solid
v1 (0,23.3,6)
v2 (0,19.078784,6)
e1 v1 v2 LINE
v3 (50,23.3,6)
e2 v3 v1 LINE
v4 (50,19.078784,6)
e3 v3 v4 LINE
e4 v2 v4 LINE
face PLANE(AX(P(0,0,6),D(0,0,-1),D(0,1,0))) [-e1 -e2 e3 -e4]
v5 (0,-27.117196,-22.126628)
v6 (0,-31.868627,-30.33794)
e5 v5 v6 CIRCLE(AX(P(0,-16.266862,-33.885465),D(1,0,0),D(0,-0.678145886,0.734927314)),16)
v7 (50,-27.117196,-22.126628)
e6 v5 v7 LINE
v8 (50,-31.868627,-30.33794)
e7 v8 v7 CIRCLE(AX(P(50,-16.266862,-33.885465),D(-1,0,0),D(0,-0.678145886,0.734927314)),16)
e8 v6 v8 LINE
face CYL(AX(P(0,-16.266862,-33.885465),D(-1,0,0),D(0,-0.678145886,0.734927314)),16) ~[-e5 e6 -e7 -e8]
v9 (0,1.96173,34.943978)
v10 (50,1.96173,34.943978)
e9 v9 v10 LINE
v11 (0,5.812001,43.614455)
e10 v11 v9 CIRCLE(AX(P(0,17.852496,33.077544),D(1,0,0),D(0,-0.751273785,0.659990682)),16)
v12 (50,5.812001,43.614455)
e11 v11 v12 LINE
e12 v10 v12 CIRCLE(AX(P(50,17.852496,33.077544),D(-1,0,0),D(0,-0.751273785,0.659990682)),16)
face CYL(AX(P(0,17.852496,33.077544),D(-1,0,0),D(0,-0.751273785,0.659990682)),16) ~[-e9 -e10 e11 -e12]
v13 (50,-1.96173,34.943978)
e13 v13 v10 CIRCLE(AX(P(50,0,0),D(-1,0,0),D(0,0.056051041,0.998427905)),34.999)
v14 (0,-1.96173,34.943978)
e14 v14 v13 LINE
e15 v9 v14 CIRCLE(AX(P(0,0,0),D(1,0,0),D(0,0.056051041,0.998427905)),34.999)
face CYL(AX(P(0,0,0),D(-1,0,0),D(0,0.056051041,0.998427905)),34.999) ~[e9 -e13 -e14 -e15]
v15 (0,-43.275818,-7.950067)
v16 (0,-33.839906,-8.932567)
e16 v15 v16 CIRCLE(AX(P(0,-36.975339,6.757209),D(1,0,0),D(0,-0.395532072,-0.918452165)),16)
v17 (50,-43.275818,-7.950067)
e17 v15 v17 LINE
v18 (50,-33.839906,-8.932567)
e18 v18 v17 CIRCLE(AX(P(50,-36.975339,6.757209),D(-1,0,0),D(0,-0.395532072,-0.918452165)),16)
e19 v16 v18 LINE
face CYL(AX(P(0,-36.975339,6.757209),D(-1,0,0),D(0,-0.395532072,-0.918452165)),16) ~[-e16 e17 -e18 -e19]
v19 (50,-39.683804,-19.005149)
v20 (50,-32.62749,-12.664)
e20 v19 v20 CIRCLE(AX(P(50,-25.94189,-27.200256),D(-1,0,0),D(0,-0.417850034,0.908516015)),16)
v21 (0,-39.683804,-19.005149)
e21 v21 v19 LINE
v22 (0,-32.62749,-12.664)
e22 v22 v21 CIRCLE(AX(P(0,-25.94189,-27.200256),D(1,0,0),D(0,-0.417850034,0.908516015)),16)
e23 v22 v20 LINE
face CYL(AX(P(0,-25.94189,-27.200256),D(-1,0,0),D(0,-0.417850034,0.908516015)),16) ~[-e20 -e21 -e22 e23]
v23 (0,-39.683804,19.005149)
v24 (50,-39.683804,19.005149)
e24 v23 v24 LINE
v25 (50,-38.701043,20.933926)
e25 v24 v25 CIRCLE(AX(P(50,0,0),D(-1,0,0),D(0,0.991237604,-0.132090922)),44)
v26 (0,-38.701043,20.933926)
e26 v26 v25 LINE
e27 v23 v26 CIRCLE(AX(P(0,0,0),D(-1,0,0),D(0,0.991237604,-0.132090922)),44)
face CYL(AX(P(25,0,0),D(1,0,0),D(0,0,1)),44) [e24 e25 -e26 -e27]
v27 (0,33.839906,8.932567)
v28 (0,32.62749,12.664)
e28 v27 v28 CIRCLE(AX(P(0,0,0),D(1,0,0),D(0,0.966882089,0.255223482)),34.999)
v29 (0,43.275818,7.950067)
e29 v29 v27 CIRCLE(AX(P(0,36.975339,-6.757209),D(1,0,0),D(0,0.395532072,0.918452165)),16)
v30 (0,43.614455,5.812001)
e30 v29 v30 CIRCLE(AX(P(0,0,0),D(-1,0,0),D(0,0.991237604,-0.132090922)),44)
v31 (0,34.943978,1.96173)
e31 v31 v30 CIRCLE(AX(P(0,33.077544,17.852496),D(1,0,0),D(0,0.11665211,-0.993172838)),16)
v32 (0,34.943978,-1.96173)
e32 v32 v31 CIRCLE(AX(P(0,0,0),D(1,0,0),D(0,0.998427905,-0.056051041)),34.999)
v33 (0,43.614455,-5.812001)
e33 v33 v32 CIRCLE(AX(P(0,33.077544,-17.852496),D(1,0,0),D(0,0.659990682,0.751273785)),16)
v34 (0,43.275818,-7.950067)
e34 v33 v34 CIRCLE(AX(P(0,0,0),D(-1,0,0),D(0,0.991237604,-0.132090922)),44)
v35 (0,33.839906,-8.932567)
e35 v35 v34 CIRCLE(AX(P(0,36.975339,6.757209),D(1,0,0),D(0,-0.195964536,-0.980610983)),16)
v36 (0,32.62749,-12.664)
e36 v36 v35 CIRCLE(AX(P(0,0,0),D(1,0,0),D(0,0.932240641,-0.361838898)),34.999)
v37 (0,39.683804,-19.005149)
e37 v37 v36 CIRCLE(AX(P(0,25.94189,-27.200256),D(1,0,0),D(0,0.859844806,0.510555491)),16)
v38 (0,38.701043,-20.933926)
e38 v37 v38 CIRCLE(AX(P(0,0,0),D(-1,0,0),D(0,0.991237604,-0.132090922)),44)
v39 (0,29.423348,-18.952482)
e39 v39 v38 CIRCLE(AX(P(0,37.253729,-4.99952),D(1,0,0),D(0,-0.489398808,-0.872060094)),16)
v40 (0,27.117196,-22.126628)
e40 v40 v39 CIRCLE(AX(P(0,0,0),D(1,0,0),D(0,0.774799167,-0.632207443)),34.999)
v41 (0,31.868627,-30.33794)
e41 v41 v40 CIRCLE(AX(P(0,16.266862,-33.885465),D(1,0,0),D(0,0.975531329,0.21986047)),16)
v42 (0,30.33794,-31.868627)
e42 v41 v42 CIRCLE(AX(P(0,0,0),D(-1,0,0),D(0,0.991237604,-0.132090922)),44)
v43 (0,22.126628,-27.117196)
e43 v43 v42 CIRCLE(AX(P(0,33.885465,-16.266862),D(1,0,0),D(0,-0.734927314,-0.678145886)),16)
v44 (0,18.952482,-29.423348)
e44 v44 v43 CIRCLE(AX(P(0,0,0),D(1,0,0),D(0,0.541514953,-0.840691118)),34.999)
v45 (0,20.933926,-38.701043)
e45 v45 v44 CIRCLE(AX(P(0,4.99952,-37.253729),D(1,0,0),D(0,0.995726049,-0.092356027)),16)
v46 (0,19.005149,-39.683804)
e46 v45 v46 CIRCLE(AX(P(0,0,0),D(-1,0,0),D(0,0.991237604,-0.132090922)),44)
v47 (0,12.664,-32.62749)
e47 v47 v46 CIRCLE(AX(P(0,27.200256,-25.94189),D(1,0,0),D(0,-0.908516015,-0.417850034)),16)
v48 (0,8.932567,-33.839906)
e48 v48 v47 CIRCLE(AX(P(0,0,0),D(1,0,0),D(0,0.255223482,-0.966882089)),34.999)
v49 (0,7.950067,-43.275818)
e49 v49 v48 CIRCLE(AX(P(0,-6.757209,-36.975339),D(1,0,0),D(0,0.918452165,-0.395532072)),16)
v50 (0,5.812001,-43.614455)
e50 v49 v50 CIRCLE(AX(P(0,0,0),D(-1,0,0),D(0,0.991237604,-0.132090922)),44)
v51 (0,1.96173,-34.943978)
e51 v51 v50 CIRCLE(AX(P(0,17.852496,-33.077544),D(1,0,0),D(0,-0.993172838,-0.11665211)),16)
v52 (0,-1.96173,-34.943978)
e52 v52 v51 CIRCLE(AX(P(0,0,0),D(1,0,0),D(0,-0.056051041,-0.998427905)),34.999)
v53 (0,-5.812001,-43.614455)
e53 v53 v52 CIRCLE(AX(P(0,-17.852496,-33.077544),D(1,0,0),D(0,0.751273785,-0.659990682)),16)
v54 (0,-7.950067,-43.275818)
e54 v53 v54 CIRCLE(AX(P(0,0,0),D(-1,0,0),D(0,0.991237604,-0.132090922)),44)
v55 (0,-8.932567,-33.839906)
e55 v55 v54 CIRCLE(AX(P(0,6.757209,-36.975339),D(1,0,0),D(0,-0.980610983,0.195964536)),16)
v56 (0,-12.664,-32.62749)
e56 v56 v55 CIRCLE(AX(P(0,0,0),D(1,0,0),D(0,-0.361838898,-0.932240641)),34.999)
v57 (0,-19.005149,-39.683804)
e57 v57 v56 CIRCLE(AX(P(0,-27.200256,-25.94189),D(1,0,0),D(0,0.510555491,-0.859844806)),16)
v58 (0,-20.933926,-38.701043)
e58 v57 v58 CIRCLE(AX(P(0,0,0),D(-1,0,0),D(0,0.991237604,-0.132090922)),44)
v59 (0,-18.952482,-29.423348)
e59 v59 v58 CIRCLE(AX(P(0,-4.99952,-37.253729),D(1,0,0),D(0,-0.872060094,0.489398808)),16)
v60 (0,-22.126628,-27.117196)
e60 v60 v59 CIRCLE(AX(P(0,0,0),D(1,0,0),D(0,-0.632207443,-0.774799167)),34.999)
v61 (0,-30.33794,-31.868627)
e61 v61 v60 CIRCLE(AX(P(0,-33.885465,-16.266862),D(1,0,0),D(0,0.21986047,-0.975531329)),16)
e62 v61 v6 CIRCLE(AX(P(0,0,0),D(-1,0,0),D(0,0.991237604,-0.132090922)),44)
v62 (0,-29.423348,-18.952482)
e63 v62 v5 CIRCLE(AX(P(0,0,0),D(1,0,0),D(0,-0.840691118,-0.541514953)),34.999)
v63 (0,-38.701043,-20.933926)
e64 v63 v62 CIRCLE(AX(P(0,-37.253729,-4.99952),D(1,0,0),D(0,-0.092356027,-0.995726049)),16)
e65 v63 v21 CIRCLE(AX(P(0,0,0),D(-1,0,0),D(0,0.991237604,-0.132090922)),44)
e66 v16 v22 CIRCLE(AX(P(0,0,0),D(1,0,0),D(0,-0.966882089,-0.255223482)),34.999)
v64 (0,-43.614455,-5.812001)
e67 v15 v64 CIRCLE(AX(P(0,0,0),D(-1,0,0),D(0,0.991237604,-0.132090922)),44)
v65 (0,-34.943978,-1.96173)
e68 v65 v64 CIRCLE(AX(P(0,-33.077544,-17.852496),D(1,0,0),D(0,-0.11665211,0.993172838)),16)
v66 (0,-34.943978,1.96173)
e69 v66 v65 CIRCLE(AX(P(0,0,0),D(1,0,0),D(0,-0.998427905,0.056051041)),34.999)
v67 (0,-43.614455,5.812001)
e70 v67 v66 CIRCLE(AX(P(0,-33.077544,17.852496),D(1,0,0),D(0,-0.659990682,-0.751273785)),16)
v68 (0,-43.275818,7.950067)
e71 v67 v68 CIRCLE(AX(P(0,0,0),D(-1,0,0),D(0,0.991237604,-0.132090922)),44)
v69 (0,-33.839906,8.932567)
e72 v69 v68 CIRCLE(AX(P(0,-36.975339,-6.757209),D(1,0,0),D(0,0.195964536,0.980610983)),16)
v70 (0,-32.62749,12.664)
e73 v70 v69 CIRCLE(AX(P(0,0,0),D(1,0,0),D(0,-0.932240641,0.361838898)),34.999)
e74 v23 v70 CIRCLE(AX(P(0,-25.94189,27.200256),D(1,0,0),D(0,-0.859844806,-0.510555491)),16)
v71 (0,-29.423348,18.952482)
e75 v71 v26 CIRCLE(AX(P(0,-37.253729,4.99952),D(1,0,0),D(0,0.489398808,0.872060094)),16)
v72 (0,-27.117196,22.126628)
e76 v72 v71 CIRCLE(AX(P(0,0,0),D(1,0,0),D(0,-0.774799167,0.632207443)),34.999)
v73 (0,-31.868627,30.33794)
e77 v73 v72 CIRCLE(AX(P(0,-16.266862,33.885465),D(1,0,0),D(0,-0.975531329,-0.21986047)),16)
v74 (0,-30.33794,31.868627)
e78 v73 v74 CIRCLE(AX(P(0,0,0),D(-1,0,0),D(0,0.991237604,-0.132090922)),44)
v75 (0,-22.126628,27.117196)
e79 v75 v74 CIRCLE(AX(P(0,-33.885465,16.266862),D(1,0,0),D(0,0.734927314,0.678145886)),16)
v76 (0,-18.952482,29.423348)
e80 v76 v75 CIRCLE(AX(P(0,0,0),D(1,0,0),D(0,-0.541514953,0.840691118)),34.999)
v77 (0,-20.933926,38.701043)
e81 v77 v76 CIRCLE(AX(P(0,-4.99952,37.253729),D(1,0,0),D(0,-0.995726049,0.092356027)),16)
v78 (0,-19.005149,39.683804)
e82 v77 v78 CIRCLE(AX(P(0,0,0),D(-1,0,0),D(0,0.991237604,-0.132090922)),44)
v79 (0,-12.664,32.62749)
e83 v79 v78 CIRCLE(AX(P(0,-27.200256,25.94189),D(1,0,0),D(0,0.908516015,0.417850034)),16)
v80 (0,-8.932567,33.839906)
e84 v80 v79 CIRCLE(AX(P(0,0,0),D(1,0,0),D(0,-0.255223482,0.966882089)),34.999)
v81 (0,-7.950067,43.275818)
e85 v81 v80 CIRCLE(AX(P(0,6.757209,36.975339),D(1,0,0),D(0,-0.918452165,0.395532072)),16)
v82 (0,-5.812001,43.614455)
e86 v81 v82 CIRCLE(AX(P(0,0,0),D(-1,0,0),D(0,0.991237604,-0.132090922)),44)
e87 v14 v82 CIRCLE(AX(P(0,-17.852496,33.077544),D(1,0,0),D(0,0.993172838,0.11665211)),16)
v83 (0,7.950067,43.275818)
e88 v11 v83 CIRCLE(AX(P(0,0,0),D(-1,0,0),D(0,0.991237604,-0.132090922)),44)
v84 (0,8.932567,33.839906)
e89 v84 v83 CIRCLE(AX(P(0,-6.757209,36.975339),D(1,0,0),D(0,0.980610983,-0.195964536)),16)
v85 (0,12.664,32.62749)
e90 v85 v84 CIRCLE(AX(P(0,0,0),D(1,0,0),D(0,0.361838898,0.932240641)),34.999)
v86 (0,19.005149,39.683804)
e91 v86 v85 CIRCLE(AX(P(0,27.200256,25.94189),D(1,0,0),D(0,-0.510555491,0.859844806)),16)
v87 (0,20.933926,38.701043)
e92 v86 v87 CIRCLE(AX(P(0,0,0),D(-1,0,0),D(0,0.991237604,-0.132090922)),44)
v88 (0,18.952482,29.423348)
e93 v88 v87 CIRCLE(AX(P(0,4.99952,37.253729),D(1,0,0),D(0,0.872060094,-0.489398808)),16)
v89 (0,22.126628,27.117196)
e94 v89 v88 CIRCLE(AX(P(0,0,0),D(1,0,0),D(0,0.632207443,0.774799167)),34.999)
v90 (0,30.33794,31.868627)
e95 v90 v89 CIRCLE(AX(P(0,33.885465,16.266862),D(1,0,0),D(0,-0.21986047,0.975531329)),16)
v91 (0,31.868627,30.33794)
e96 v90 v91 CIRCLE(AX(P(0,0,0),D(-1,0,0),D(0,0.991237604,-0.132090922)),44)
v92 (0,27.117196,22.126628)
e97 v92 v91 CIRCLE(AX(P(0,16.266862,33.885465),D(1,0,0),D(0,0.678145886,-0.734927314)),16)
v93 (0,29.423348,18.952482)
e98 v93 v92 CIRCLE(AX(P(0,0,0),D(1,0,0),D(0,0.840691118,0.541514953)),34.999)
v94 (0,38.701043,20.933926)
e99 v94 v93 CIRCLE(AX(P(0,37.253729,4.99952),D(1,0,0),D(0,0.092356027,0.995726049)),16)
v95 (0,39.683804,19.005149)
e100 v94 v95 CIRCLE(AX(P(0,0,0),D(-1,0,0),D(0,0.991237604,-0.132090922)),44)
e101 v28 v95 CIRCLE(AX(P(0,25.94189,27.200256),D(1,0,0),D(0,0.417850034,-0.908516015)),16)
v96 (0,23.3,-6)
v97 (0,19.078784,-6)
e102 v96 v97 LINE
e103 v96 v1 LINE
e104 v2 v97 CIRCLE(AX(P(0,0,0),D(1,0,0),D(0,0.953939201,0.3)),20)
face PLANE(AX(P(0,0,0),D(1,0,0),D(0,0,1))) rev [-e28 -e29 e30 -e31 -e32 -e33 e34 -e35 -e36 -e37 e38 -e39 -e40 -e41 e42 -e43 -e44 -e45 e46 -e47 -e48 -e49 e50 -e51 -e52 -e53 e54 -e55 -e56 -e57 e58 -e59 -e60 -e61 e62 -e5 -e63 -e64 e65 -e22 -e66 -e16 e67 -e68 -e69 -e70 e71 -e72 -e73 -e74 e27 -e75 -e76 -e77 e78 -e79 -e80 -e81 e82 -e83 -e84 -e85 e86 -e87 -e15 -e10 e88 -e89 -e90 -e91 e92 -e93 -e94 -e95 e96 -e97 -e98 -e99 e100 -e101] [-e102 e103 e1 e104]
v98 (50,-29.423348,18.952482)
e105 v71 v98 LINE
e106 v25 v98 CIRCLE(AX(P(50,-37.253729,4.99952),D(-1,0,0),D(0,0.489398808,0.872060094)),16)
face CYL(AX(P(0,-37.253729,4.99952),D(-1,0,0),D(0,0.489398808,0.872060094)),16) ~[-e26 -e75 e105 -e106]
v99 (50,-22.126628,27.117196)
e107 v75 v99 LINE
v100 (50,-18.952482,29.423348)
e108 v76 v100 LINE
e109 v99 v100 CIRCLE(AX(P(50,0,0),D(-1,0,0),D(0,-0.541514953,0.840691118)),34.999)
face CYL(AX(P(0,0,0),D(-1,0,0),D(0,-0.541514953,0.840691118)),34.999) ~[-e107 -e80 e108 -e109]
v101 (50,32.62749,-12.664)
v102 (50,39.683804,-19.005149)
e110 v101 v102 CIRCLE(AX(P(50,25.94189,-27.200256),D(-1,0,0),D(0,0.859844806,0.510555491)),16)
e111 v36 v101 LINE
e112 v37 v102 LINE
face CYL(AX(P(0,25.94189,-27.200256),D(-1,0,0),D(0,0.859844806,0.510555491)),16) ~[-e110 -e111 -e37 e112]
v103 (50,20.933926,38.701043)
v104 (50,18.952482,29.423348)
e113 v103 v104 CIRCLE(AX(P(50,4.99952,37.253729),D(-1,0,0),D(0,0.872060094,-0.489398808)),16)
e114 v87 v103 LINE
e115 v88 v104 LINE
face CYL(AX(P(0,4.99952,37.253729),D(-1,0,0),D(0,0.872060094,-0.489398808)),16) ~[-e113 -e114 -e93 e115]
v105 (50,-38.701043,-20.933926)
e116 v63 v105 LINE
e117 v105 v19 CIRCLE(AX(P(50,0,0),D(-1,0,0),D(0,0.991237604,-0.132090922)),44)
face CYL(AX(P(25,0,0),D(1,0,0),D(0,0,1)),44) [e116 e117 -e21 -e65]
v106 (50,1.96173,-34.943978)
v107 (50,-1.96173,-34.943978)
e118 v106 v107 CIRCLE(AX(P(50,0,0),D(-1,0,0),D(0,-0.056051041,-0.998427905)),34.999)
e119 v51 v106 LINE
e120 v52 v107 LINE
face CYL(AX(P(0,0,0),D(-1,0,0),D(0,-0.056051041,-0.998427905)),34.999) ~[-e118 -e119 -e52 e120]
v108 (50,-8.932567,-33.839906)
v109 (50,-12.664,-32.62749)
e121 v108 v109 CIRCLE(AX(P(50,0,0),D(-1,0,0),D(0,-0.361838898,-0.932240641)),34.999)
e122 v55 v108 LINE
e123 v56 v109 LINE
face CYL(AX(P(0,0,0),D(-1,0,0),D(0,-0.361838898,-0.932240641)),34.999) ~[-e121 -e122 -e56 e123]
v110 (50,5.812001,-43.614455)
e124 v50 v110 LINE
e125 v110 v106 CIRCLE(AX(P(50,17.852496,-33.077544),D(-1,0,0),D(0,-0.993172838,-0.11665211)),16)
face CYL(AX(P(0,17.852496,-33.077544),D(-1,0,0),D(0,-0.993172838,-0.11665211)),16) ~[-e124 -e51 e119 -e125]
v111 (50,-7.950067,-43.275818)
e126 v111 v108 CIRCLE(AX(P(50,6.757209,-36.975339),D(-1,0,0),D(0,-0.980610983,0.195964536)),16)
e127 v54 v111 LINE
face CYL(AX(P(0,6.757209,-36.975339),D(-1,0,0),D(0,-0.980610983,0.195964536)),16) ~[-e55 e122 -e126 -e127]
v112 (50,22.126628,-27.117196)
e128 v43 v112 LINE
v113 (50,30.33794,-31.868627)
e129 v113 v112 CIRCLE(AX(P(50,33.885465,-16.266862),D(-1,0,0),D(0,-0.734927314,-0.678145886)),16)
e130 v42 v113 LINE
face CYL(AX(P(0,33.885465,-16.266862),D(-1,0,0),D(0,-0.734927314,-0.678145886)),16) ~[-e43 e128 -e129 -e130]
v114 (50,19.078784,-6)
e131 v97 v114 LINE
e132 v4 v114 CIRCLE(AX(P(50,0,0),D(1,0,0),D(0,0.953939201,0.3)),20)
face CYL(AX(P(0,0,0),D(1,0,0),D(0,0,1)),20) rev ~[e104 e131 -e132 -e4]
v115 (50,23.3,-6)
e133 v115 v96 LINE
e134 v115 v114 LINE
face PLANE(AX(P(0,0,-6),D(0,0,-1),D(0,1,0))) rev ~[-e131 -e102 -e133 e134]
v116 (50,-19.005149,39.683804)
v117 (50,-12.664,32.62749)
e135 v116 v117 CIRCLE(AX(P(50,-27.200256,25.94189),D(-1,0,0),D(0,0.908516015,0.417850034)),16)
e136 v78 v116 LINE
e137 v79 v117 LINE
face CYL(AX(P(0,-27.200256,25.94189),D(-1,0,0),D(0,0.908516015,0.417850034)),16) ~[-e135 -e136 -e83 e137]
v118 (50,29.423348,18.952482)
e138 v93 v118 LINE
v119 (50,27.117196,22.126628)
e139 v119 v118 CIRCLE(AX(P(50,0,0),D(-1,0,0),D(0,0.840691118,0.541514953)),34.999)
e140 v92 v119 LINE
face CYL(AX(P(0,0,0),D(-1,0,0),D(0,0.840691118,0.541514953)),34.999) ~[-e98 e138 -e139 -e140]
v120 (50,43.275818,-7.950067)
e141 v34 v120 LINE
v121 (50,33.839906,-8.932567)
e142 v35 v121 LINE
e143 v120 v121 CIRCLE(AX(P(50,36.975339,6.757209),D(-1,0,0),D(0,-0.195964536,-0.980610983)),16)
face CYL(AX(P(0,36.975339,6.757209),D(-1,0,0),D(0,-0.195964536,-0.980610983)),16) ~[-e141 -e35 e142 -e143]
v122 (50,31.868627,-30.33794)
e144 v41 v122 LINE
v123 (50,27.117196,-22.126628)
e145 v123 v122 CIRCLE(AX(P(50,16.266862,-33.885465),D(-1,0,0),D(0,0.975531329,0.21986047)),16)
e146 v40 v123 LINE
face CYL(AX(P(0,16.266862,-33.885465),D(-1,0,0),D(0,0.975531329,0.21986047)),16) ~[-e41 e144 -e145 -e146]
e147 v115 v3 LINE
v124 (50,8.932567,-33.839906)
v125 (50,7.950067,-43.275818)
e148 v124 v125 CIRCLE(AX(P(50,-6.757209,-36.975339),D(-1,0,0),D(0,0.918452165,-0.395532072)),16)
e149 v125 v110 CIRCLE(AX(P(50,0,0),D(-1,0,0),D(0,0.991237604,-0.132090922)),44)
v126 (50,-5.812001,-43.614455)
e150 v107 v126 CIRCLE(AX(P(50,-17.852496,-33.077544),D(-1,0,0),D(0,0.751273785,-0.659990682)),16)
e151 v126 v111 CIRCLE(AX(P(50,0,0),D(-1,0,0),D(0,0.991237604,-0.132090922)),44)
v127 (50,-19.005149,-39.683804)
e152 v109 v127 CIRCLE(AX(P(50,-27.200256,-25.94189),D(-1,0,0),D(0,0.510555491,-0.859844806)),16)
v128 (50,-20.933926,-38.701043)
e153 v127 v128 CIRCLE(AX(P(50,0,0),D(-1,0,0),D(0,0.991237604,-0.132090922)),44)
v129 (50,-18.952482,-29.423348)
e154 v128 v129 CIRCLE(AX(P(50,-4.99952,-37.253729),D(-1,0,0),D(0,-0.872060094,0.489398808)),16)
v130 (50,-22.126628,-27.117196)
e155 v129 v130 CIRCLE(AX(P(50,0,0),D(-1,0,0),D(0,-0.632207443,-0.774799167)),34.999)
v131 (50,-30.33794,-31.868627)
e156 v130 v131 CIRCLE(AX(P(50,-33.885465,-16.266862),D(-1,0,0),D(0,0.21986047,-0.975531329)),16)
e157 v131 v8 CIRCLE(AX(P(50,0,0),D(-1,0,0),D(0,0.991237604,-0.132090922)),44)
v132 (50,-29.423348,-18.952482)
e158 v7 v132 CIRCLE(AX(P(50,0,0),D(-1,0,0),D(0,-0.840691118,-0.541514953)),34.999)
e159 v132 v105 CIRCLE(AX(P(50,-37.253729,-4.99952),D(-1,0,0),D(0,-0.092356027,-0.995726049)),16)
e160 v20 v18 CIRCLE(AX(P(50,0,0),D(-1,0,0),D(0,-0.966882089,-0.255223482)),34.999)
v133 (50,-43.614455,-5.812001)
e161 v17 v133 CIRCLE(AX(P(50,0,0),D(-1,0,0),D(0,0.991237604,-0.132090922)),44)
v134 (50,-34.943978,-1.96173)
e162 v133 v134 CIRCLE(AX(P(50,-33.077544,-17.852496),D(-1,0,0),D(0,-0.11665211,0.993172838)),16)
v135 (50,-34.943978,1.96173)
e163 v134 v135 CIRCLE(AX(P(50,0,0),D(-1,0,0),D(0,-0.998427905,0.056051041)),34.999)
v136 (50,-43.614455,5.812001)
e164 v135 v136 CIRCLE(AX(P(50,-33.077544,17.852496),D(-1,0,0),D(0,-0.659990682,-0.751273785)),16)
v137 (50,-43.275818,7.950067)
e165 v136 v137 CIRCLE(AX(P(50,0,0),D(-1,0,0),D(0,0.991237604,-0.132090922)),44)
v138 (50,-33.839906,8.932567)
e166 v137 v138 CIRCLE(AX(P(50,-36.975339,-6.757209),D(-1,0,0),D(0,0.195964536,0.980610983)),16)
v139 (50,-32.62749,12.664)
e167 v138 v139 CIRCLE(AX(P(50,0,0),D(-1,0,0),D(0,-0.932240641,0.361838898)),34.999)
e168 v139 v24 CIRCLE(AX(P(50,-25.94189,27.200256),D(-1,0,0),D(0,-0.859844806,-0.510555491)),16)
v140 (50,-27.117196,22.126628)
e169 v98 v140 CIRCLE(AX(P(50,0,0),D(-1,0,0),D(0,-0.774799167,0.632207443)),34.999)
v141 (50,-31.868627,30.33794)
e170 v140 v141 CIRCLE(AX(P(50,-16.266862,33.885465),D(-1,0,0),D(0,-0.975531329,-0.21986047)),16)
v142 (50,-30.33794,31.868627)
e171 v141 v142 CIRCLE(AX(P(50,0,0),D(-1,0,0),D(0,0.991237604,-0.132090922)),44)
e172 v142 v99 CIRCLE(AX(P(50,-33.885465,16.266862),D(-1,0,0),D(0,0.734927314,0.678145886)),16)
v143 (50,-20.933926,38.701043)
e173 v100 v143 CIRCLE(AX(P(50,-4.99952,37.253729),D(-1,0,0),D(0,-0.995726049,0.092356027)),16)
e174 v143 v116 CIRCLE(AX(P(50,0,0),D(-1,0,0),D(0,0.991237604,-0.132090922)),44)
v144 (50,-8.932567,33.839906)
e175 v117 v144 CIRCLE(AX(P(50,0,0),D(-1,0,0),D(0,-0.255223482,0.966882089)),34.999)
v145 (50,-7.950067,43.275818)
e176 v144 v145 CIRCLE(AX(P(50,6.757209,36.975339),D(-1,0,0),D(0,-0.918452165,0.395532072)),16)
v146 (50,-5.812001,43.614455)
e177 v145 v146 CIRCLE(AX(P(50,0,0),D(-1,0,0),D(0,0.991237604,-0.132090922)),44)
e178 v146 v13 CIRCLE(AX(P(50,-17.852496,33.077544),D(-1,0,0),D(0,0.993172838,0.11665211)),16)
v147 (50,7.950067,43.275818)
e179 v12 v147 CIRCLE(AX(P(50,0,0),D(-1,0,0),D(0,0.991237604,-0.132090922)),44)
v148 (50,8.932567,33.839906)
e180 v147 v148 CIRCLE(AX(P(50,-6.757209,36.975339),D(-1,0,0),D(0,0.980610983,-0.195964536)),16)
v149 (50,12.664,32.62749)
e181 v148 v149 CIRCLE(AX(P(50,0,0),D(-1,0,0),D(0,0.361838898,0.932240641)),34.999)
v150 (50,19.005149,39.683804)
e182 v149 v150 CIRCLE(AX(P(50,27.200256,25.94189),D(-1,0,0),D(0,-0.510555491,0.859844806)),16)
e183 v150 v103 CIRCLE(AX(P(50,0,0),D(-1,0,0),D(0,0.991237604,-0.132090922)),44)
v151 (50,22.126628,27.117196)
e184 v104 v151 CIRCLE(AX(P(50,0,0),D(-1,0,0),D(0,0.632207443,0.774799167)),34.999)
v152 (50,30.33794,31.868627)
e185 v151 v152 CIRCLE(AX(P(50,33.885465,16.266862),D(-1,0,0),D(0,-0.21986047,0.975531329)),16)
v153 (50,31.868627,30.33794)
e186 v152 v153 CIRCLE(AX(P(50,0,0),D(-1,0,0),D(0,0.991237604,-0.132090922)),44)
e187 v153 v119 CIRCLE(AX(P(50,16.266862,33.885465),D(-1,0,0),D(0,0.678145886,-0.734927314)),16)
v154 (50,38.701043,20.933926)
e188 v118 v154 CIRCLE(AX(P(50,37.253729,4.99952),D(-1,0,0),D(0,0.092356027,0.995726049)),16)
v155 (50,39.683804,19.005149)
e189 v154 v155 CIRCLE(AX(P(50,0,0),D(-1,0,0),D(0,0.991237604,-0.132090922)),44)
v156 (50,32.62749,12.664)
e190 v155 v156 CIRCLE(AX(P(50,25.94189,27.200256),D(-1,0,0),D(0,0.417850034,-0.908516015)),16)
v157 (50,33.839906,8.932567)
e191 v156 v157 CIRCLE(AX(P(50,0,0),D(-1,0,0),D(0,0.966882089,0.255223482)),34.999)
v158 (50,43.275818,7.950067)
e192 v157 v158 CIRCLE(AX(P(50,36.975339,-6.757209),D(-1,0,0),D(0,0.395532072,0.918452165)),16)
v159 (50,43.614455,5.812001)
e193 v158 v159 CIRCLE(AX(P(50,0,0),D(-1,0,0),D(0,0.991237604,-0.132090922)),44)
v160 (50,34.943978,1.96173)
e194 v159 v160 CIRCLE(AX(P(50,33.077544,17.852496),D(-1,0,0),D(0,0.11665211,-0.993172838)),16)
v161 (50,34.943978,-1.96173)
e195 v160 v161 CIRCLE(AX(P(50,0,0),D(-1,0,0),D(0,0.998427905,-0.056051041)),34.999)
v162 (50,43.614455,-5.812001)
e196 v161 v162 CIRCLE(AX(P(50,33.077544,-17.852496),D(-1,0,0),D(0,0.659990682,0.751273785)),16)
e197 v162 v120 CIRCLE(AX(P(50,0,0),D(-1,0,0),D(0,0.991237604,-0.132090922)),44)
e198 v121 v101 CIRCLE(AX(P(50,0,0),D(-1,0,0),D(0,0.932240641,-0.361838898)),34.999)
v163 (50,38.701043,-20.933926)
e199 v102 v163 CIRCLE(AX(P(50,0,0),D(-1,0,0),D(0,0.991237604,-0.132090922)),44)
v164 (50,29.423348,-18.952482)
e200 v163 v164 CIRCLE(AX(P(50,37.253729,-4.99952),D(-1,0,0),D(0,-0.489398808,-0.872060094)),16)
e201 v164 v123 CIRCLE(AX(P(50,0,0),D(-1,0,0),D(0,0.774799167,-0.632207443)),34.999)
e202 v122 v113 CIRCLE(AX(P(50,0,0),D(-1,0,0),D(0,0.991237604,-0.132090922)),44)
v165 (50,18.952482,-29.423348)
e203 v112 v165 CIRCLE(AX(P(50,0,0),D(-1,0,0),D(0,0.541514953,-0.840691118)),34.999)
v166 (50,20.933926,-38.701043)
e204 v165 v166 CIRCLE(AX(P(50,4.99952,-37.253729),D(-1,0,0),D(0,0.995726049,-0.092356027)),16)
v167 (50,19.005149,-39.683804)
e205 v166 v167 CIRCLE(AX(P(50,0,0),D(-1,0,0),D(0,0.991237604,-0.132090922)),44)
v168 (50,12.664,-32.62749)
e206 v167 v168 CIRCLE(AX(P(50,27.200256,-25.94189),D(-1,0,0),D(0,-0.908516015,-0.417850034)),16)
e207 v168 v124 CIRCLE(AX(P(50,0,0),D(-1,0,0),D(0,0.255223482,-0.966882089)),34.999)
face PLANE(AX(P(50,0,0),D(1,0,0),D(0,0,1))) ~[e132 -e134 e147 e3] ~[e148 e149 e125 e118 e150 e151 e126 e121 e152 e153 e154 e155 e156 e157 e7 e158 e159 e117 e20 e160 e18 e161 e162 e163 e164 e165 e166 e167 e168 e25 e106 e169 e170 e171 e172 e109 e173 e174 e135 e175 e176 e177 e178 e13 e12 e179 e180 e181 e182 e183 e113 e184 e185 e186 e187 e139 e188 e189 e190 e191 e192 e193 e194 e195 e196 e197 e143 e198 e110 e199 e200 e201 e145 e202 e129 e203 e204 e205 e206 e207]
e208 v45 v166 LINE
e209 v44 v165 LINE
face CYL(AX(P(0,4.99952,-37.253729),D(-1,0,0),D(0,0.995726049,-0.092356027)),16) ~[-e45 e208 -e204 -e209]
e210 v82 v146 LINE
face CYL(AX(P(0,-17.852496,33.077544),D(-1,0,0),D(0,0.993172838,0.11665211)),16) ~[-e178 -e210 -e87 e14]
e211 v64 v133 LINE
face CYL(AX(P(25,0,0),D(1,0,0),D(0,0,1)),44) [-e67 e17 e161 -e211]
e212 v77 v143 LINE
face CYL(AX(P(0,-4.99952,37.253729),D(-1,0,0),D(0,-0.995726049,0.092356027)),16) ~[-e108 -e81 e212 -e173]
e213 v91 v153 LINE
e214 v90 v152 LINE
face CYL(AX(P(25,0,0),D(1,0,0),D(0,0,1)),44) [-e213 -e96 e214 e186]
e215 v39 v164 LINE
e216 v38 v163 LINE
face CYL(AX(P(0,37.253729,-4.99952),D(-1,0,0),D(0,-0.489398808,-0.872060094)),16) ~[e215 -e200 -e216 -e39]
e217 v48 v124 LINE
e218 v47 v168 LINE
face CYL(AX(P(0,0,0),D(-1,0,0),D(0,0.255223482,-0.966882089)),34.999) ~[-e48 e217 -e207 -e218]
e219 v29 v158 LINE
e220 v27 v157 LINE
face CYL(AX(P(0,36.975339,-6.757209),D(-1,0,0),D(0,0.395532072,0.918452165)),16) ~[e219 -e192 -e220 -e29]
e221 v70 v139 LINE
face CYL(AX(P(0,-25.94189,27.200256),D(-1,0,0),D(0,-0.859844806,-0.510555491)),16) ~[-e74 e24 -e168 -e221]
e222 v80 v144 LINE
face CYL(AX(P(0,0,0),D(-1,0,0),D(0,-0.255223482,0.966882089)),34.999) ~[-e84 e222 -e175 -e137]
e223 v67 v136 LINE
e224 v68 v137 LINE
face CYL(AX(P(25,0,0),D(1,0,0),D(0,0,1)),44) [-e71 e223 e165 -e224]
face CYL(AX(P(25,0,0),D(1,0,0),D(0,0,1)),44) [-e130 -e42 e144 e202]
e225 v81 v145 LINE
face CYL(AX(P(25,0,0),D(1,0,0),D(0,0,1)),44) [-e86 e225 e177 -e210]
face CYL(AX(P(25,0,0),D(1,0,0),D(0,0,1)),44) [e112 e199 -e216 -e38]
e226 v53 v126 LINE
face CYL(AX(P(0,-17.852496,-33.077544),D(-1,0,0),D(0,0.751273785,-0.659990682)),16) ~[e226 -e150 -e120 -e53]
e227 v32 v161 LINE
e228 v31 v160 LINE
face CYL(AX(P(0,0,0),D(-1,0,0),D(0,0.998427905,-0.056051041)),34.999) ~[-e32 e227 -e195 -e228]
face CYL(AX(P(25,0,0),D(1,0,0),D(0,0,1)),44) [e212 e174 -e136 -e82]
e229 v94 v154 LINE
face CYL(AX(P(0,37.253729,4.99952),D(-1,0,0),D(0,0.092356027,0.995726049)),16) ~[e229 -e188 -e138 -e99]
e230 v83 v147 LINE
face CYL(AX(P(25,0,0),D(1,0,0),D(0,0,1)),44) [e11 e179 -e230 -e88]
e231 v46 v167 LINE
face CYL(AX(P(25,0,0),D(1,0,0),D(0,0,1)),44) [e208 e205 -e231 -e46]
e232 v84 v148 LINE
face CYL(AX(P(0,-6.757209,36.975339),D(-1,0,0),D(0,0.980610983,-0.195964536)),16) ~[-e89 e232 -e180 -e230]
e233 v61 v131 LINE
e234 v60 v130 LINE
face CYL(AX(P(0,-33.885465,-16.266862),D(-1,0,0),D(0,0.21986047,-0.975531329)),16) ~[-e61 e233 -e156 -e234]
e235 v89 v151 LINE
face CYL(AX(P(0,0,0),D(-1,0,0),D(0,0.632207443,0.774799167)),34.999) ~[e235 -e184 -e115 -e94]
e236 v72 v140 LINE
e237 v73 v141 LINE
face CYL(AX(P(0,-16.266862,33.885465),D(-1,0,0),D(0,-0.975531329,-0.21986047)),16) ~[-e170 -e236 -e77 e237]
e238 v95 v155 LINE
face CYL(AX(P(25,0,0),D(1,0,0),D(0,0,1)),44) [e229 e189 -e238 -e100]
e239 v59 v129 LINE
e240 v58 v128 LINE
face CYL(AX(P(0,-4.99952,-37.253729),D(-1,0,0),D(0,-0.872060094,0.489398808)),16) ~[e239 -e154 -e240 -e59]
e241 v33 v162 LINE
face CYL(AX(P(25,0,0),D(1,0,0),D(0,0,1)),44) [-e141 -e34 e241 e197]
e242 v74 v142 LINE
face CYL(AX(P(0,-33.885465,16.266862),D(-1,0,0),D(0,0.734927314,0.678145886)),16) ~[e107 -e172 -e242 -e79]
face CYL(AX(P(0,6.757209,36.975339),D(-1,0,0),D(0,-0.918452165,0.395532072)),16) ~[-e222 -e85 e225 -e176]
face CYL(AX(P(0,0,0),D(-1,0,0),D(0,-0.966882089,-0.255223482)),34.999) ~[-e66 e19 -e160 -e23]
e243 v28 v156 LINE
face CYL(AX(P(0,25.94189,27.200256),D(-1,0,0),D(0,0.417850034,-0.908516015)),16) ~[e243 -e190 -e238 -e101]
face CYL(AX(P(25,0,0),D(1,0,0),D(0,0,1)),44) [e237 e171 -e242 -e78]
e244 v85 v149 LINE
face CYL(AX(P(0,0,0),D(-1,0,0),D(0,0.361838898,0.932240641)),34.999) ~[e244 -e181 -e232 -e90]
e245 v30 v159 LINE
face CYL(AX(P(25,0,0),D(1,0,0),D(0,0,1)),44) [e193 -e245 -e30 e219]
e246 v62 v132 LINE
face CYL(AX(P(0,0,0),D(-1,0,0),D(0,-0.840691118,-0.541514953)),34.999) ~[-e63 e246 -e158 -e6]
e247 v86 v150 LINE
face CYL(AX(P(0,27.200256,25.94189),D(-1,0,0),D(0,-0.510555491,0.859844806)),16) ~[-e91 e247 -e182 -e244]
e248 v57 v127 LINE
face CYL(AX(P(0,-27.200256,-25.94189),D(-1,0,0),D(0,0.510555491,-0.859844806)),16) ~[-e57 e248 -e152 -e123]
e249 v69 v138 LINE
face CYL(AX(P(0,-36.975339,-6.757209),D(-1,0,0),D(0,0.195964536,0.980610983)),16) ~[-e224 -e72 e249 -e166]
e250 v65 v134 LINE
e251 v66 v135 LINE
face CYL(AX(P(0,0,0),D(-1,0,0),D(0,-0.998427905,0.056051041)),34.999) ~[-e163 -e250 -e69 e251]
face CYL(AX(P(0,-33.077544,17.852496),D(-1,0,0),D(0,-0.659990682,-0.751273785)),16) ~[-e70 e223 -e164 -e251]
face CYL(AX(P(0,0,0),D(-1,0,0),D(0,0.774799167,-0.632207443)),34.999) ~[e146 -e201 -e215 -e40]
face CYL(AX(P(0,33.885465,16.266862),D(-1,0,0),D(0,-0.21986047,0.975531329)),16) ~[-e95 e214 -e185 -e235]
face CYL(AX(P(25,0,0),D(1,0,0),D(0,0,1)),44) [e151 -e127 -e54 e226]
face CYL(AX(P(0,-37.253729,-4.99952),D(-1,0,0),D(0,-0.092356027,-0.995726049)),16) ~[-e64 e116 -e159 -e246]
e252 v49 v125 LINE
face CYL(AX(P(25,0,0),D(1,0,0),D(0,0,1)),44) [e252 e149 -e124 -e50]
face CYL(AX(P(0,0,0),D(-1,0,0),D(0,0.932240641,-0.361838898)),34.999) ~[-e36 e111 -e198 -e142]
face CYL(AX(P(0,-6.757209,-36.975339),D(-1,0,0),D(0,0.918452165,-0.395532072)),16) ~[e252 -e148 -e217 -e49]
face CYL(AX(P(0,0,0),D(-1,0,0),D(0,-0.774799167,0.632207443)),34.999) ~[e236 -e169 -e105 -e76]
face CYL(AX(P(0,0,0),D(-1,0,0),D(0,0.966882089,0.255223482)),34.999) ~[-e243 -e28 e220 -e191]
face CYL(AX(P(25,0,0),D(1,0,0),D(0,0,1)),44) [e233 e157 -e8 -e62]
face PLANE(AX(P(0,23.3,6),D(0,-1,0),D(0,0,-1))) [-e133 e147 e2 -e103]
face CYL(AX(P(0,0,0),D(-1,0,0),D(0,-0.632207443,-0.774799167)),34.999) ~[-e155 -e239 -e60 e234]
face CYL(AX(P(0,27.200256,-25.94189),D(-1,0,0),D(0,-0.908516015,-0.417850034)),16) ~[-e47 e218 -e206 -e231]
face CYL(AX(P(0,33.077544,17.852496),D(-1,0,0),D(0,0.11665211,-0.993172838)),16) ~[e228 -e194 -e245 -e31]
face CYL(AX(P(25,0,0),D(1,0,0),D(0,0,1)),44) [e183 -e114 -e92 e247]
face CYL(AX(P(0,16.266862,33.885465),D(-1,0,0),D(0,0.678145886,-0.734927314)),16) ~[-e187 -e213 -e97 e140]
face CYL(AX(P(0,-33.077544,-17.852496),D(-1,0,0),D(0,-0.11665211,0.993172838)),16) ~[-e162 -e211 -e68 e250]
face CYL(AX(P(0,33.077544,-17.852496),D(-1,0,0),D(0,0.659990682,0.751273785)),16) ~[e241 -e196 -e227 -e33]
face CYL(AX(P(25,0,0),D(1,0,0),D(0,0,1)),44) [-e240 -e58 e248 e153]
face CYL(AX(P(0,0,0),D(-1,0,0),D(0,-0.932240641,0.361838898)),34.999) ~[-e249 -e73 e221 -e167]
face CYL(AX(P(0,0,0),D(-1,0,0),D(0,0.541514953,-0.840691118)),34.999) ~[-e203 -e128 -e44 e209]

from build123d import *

# Parameters (mm, degrees)
BASPROSKE_W     = 50
BASPROSKE_H     = 44
TOOTHCUT_DEPTH  = 80.824808174
TEETHCUTS_COUNT = 20
TEETHCUTS_ANGLE = 342
BORSKE_R        = 20
BORE_DEPTH      = 50.0000508
KEYSKE_W        = 12
KEYSKE_H        = 23.3
KEYWAY_DEPTH    = 50.0000508


with BuildPart() as part:
    # BasProSke → Base-Revolve (revolve)
    with BuildSketch(Plane(origin=(0, 0, 0), x_dir=(1, 0, 0), z_dir=(0, 1, 0)), mode=Mode.PRIVATE) as base_revolve_sk:
        with Locations((25, 22)):
            Rectangle(BASPROSKE_W, BASPROSKE_H)
    revolve(base_revolve_sk.sketch.rotate(Axis((-10, 0, 0), (1, 0, 0)), 180), axis=Axis((-10, 0, 0), (1, 0, 0)))

    # TooCutSke → ToothCut (cut, through all)
    with BuildSketch(Plane(origin=(0, 0, 0), x_dir=(0, 0, -1), z_dir=(1, 0, 0))):
        with BuildLine():
            ThreePointArc((1.961730392, 34.943978235), (0, 34.999), (-1.961730392, 34.943978235))
            ThreePointArc((-1.961730392, 34.943978235), (-3.235659864, 39.585086827), (-5.832115241, 43.637395396))
            ThreePointArc((-5.832115241, 43.637395396), (0, 44.0254), (5.832115241, 43.637395396))
            ThreePointArc((5.832115241, 43.637395396), (3.235659864, 39.585086827), (1.961730392, 34.943978235))
        make_face()
    toothcut = extrude(amount=TOOTHCUT_DEPTH, mode=Mode.SUBTRACT)

    # TeethCuts: ToothCut ×20 about axis
    teethcuts_axis = Axis((-10, 0, 0), (1, 0, 0))
    for i in range(1, TEETHCUTS_COUNT):
        add(toothcut.rotate(teethcuts_axis, i * TEETHCUTS_ANGLE / (TEETHCUTS_COUNT - 1)), mode=Mode.SUBTRACT)

    # BorSke → Bore (cut, symmetric)
    with BuildSketch(Plane(origin=(0, 0, 0), x_dir=(0, 0, -1), z_dir=(1, 0, 0))):
        with Locations(Location((0, 0, 0), (0, 0, 180))):
            Circle(BORSKE_R)
    extrude(amount=BORE_DEPTH, both=True, mode=Mode.SUBTRACT)

    # KeySke → Keyway (cut, symmetric)
    with BuildSketch(Plane(origin=(0, 0, 0), x_dir=(0, 0, -1), z_dir=(1, 0, 0))):
        with Locations((0, 11.65)):
            Rectangle(KEYSKE_W, KEYSKE_H)
    extrude(amount=KEYWAY_DEPTH, both=True, mode=Mode.SUBTRACT)


solid = part.part
